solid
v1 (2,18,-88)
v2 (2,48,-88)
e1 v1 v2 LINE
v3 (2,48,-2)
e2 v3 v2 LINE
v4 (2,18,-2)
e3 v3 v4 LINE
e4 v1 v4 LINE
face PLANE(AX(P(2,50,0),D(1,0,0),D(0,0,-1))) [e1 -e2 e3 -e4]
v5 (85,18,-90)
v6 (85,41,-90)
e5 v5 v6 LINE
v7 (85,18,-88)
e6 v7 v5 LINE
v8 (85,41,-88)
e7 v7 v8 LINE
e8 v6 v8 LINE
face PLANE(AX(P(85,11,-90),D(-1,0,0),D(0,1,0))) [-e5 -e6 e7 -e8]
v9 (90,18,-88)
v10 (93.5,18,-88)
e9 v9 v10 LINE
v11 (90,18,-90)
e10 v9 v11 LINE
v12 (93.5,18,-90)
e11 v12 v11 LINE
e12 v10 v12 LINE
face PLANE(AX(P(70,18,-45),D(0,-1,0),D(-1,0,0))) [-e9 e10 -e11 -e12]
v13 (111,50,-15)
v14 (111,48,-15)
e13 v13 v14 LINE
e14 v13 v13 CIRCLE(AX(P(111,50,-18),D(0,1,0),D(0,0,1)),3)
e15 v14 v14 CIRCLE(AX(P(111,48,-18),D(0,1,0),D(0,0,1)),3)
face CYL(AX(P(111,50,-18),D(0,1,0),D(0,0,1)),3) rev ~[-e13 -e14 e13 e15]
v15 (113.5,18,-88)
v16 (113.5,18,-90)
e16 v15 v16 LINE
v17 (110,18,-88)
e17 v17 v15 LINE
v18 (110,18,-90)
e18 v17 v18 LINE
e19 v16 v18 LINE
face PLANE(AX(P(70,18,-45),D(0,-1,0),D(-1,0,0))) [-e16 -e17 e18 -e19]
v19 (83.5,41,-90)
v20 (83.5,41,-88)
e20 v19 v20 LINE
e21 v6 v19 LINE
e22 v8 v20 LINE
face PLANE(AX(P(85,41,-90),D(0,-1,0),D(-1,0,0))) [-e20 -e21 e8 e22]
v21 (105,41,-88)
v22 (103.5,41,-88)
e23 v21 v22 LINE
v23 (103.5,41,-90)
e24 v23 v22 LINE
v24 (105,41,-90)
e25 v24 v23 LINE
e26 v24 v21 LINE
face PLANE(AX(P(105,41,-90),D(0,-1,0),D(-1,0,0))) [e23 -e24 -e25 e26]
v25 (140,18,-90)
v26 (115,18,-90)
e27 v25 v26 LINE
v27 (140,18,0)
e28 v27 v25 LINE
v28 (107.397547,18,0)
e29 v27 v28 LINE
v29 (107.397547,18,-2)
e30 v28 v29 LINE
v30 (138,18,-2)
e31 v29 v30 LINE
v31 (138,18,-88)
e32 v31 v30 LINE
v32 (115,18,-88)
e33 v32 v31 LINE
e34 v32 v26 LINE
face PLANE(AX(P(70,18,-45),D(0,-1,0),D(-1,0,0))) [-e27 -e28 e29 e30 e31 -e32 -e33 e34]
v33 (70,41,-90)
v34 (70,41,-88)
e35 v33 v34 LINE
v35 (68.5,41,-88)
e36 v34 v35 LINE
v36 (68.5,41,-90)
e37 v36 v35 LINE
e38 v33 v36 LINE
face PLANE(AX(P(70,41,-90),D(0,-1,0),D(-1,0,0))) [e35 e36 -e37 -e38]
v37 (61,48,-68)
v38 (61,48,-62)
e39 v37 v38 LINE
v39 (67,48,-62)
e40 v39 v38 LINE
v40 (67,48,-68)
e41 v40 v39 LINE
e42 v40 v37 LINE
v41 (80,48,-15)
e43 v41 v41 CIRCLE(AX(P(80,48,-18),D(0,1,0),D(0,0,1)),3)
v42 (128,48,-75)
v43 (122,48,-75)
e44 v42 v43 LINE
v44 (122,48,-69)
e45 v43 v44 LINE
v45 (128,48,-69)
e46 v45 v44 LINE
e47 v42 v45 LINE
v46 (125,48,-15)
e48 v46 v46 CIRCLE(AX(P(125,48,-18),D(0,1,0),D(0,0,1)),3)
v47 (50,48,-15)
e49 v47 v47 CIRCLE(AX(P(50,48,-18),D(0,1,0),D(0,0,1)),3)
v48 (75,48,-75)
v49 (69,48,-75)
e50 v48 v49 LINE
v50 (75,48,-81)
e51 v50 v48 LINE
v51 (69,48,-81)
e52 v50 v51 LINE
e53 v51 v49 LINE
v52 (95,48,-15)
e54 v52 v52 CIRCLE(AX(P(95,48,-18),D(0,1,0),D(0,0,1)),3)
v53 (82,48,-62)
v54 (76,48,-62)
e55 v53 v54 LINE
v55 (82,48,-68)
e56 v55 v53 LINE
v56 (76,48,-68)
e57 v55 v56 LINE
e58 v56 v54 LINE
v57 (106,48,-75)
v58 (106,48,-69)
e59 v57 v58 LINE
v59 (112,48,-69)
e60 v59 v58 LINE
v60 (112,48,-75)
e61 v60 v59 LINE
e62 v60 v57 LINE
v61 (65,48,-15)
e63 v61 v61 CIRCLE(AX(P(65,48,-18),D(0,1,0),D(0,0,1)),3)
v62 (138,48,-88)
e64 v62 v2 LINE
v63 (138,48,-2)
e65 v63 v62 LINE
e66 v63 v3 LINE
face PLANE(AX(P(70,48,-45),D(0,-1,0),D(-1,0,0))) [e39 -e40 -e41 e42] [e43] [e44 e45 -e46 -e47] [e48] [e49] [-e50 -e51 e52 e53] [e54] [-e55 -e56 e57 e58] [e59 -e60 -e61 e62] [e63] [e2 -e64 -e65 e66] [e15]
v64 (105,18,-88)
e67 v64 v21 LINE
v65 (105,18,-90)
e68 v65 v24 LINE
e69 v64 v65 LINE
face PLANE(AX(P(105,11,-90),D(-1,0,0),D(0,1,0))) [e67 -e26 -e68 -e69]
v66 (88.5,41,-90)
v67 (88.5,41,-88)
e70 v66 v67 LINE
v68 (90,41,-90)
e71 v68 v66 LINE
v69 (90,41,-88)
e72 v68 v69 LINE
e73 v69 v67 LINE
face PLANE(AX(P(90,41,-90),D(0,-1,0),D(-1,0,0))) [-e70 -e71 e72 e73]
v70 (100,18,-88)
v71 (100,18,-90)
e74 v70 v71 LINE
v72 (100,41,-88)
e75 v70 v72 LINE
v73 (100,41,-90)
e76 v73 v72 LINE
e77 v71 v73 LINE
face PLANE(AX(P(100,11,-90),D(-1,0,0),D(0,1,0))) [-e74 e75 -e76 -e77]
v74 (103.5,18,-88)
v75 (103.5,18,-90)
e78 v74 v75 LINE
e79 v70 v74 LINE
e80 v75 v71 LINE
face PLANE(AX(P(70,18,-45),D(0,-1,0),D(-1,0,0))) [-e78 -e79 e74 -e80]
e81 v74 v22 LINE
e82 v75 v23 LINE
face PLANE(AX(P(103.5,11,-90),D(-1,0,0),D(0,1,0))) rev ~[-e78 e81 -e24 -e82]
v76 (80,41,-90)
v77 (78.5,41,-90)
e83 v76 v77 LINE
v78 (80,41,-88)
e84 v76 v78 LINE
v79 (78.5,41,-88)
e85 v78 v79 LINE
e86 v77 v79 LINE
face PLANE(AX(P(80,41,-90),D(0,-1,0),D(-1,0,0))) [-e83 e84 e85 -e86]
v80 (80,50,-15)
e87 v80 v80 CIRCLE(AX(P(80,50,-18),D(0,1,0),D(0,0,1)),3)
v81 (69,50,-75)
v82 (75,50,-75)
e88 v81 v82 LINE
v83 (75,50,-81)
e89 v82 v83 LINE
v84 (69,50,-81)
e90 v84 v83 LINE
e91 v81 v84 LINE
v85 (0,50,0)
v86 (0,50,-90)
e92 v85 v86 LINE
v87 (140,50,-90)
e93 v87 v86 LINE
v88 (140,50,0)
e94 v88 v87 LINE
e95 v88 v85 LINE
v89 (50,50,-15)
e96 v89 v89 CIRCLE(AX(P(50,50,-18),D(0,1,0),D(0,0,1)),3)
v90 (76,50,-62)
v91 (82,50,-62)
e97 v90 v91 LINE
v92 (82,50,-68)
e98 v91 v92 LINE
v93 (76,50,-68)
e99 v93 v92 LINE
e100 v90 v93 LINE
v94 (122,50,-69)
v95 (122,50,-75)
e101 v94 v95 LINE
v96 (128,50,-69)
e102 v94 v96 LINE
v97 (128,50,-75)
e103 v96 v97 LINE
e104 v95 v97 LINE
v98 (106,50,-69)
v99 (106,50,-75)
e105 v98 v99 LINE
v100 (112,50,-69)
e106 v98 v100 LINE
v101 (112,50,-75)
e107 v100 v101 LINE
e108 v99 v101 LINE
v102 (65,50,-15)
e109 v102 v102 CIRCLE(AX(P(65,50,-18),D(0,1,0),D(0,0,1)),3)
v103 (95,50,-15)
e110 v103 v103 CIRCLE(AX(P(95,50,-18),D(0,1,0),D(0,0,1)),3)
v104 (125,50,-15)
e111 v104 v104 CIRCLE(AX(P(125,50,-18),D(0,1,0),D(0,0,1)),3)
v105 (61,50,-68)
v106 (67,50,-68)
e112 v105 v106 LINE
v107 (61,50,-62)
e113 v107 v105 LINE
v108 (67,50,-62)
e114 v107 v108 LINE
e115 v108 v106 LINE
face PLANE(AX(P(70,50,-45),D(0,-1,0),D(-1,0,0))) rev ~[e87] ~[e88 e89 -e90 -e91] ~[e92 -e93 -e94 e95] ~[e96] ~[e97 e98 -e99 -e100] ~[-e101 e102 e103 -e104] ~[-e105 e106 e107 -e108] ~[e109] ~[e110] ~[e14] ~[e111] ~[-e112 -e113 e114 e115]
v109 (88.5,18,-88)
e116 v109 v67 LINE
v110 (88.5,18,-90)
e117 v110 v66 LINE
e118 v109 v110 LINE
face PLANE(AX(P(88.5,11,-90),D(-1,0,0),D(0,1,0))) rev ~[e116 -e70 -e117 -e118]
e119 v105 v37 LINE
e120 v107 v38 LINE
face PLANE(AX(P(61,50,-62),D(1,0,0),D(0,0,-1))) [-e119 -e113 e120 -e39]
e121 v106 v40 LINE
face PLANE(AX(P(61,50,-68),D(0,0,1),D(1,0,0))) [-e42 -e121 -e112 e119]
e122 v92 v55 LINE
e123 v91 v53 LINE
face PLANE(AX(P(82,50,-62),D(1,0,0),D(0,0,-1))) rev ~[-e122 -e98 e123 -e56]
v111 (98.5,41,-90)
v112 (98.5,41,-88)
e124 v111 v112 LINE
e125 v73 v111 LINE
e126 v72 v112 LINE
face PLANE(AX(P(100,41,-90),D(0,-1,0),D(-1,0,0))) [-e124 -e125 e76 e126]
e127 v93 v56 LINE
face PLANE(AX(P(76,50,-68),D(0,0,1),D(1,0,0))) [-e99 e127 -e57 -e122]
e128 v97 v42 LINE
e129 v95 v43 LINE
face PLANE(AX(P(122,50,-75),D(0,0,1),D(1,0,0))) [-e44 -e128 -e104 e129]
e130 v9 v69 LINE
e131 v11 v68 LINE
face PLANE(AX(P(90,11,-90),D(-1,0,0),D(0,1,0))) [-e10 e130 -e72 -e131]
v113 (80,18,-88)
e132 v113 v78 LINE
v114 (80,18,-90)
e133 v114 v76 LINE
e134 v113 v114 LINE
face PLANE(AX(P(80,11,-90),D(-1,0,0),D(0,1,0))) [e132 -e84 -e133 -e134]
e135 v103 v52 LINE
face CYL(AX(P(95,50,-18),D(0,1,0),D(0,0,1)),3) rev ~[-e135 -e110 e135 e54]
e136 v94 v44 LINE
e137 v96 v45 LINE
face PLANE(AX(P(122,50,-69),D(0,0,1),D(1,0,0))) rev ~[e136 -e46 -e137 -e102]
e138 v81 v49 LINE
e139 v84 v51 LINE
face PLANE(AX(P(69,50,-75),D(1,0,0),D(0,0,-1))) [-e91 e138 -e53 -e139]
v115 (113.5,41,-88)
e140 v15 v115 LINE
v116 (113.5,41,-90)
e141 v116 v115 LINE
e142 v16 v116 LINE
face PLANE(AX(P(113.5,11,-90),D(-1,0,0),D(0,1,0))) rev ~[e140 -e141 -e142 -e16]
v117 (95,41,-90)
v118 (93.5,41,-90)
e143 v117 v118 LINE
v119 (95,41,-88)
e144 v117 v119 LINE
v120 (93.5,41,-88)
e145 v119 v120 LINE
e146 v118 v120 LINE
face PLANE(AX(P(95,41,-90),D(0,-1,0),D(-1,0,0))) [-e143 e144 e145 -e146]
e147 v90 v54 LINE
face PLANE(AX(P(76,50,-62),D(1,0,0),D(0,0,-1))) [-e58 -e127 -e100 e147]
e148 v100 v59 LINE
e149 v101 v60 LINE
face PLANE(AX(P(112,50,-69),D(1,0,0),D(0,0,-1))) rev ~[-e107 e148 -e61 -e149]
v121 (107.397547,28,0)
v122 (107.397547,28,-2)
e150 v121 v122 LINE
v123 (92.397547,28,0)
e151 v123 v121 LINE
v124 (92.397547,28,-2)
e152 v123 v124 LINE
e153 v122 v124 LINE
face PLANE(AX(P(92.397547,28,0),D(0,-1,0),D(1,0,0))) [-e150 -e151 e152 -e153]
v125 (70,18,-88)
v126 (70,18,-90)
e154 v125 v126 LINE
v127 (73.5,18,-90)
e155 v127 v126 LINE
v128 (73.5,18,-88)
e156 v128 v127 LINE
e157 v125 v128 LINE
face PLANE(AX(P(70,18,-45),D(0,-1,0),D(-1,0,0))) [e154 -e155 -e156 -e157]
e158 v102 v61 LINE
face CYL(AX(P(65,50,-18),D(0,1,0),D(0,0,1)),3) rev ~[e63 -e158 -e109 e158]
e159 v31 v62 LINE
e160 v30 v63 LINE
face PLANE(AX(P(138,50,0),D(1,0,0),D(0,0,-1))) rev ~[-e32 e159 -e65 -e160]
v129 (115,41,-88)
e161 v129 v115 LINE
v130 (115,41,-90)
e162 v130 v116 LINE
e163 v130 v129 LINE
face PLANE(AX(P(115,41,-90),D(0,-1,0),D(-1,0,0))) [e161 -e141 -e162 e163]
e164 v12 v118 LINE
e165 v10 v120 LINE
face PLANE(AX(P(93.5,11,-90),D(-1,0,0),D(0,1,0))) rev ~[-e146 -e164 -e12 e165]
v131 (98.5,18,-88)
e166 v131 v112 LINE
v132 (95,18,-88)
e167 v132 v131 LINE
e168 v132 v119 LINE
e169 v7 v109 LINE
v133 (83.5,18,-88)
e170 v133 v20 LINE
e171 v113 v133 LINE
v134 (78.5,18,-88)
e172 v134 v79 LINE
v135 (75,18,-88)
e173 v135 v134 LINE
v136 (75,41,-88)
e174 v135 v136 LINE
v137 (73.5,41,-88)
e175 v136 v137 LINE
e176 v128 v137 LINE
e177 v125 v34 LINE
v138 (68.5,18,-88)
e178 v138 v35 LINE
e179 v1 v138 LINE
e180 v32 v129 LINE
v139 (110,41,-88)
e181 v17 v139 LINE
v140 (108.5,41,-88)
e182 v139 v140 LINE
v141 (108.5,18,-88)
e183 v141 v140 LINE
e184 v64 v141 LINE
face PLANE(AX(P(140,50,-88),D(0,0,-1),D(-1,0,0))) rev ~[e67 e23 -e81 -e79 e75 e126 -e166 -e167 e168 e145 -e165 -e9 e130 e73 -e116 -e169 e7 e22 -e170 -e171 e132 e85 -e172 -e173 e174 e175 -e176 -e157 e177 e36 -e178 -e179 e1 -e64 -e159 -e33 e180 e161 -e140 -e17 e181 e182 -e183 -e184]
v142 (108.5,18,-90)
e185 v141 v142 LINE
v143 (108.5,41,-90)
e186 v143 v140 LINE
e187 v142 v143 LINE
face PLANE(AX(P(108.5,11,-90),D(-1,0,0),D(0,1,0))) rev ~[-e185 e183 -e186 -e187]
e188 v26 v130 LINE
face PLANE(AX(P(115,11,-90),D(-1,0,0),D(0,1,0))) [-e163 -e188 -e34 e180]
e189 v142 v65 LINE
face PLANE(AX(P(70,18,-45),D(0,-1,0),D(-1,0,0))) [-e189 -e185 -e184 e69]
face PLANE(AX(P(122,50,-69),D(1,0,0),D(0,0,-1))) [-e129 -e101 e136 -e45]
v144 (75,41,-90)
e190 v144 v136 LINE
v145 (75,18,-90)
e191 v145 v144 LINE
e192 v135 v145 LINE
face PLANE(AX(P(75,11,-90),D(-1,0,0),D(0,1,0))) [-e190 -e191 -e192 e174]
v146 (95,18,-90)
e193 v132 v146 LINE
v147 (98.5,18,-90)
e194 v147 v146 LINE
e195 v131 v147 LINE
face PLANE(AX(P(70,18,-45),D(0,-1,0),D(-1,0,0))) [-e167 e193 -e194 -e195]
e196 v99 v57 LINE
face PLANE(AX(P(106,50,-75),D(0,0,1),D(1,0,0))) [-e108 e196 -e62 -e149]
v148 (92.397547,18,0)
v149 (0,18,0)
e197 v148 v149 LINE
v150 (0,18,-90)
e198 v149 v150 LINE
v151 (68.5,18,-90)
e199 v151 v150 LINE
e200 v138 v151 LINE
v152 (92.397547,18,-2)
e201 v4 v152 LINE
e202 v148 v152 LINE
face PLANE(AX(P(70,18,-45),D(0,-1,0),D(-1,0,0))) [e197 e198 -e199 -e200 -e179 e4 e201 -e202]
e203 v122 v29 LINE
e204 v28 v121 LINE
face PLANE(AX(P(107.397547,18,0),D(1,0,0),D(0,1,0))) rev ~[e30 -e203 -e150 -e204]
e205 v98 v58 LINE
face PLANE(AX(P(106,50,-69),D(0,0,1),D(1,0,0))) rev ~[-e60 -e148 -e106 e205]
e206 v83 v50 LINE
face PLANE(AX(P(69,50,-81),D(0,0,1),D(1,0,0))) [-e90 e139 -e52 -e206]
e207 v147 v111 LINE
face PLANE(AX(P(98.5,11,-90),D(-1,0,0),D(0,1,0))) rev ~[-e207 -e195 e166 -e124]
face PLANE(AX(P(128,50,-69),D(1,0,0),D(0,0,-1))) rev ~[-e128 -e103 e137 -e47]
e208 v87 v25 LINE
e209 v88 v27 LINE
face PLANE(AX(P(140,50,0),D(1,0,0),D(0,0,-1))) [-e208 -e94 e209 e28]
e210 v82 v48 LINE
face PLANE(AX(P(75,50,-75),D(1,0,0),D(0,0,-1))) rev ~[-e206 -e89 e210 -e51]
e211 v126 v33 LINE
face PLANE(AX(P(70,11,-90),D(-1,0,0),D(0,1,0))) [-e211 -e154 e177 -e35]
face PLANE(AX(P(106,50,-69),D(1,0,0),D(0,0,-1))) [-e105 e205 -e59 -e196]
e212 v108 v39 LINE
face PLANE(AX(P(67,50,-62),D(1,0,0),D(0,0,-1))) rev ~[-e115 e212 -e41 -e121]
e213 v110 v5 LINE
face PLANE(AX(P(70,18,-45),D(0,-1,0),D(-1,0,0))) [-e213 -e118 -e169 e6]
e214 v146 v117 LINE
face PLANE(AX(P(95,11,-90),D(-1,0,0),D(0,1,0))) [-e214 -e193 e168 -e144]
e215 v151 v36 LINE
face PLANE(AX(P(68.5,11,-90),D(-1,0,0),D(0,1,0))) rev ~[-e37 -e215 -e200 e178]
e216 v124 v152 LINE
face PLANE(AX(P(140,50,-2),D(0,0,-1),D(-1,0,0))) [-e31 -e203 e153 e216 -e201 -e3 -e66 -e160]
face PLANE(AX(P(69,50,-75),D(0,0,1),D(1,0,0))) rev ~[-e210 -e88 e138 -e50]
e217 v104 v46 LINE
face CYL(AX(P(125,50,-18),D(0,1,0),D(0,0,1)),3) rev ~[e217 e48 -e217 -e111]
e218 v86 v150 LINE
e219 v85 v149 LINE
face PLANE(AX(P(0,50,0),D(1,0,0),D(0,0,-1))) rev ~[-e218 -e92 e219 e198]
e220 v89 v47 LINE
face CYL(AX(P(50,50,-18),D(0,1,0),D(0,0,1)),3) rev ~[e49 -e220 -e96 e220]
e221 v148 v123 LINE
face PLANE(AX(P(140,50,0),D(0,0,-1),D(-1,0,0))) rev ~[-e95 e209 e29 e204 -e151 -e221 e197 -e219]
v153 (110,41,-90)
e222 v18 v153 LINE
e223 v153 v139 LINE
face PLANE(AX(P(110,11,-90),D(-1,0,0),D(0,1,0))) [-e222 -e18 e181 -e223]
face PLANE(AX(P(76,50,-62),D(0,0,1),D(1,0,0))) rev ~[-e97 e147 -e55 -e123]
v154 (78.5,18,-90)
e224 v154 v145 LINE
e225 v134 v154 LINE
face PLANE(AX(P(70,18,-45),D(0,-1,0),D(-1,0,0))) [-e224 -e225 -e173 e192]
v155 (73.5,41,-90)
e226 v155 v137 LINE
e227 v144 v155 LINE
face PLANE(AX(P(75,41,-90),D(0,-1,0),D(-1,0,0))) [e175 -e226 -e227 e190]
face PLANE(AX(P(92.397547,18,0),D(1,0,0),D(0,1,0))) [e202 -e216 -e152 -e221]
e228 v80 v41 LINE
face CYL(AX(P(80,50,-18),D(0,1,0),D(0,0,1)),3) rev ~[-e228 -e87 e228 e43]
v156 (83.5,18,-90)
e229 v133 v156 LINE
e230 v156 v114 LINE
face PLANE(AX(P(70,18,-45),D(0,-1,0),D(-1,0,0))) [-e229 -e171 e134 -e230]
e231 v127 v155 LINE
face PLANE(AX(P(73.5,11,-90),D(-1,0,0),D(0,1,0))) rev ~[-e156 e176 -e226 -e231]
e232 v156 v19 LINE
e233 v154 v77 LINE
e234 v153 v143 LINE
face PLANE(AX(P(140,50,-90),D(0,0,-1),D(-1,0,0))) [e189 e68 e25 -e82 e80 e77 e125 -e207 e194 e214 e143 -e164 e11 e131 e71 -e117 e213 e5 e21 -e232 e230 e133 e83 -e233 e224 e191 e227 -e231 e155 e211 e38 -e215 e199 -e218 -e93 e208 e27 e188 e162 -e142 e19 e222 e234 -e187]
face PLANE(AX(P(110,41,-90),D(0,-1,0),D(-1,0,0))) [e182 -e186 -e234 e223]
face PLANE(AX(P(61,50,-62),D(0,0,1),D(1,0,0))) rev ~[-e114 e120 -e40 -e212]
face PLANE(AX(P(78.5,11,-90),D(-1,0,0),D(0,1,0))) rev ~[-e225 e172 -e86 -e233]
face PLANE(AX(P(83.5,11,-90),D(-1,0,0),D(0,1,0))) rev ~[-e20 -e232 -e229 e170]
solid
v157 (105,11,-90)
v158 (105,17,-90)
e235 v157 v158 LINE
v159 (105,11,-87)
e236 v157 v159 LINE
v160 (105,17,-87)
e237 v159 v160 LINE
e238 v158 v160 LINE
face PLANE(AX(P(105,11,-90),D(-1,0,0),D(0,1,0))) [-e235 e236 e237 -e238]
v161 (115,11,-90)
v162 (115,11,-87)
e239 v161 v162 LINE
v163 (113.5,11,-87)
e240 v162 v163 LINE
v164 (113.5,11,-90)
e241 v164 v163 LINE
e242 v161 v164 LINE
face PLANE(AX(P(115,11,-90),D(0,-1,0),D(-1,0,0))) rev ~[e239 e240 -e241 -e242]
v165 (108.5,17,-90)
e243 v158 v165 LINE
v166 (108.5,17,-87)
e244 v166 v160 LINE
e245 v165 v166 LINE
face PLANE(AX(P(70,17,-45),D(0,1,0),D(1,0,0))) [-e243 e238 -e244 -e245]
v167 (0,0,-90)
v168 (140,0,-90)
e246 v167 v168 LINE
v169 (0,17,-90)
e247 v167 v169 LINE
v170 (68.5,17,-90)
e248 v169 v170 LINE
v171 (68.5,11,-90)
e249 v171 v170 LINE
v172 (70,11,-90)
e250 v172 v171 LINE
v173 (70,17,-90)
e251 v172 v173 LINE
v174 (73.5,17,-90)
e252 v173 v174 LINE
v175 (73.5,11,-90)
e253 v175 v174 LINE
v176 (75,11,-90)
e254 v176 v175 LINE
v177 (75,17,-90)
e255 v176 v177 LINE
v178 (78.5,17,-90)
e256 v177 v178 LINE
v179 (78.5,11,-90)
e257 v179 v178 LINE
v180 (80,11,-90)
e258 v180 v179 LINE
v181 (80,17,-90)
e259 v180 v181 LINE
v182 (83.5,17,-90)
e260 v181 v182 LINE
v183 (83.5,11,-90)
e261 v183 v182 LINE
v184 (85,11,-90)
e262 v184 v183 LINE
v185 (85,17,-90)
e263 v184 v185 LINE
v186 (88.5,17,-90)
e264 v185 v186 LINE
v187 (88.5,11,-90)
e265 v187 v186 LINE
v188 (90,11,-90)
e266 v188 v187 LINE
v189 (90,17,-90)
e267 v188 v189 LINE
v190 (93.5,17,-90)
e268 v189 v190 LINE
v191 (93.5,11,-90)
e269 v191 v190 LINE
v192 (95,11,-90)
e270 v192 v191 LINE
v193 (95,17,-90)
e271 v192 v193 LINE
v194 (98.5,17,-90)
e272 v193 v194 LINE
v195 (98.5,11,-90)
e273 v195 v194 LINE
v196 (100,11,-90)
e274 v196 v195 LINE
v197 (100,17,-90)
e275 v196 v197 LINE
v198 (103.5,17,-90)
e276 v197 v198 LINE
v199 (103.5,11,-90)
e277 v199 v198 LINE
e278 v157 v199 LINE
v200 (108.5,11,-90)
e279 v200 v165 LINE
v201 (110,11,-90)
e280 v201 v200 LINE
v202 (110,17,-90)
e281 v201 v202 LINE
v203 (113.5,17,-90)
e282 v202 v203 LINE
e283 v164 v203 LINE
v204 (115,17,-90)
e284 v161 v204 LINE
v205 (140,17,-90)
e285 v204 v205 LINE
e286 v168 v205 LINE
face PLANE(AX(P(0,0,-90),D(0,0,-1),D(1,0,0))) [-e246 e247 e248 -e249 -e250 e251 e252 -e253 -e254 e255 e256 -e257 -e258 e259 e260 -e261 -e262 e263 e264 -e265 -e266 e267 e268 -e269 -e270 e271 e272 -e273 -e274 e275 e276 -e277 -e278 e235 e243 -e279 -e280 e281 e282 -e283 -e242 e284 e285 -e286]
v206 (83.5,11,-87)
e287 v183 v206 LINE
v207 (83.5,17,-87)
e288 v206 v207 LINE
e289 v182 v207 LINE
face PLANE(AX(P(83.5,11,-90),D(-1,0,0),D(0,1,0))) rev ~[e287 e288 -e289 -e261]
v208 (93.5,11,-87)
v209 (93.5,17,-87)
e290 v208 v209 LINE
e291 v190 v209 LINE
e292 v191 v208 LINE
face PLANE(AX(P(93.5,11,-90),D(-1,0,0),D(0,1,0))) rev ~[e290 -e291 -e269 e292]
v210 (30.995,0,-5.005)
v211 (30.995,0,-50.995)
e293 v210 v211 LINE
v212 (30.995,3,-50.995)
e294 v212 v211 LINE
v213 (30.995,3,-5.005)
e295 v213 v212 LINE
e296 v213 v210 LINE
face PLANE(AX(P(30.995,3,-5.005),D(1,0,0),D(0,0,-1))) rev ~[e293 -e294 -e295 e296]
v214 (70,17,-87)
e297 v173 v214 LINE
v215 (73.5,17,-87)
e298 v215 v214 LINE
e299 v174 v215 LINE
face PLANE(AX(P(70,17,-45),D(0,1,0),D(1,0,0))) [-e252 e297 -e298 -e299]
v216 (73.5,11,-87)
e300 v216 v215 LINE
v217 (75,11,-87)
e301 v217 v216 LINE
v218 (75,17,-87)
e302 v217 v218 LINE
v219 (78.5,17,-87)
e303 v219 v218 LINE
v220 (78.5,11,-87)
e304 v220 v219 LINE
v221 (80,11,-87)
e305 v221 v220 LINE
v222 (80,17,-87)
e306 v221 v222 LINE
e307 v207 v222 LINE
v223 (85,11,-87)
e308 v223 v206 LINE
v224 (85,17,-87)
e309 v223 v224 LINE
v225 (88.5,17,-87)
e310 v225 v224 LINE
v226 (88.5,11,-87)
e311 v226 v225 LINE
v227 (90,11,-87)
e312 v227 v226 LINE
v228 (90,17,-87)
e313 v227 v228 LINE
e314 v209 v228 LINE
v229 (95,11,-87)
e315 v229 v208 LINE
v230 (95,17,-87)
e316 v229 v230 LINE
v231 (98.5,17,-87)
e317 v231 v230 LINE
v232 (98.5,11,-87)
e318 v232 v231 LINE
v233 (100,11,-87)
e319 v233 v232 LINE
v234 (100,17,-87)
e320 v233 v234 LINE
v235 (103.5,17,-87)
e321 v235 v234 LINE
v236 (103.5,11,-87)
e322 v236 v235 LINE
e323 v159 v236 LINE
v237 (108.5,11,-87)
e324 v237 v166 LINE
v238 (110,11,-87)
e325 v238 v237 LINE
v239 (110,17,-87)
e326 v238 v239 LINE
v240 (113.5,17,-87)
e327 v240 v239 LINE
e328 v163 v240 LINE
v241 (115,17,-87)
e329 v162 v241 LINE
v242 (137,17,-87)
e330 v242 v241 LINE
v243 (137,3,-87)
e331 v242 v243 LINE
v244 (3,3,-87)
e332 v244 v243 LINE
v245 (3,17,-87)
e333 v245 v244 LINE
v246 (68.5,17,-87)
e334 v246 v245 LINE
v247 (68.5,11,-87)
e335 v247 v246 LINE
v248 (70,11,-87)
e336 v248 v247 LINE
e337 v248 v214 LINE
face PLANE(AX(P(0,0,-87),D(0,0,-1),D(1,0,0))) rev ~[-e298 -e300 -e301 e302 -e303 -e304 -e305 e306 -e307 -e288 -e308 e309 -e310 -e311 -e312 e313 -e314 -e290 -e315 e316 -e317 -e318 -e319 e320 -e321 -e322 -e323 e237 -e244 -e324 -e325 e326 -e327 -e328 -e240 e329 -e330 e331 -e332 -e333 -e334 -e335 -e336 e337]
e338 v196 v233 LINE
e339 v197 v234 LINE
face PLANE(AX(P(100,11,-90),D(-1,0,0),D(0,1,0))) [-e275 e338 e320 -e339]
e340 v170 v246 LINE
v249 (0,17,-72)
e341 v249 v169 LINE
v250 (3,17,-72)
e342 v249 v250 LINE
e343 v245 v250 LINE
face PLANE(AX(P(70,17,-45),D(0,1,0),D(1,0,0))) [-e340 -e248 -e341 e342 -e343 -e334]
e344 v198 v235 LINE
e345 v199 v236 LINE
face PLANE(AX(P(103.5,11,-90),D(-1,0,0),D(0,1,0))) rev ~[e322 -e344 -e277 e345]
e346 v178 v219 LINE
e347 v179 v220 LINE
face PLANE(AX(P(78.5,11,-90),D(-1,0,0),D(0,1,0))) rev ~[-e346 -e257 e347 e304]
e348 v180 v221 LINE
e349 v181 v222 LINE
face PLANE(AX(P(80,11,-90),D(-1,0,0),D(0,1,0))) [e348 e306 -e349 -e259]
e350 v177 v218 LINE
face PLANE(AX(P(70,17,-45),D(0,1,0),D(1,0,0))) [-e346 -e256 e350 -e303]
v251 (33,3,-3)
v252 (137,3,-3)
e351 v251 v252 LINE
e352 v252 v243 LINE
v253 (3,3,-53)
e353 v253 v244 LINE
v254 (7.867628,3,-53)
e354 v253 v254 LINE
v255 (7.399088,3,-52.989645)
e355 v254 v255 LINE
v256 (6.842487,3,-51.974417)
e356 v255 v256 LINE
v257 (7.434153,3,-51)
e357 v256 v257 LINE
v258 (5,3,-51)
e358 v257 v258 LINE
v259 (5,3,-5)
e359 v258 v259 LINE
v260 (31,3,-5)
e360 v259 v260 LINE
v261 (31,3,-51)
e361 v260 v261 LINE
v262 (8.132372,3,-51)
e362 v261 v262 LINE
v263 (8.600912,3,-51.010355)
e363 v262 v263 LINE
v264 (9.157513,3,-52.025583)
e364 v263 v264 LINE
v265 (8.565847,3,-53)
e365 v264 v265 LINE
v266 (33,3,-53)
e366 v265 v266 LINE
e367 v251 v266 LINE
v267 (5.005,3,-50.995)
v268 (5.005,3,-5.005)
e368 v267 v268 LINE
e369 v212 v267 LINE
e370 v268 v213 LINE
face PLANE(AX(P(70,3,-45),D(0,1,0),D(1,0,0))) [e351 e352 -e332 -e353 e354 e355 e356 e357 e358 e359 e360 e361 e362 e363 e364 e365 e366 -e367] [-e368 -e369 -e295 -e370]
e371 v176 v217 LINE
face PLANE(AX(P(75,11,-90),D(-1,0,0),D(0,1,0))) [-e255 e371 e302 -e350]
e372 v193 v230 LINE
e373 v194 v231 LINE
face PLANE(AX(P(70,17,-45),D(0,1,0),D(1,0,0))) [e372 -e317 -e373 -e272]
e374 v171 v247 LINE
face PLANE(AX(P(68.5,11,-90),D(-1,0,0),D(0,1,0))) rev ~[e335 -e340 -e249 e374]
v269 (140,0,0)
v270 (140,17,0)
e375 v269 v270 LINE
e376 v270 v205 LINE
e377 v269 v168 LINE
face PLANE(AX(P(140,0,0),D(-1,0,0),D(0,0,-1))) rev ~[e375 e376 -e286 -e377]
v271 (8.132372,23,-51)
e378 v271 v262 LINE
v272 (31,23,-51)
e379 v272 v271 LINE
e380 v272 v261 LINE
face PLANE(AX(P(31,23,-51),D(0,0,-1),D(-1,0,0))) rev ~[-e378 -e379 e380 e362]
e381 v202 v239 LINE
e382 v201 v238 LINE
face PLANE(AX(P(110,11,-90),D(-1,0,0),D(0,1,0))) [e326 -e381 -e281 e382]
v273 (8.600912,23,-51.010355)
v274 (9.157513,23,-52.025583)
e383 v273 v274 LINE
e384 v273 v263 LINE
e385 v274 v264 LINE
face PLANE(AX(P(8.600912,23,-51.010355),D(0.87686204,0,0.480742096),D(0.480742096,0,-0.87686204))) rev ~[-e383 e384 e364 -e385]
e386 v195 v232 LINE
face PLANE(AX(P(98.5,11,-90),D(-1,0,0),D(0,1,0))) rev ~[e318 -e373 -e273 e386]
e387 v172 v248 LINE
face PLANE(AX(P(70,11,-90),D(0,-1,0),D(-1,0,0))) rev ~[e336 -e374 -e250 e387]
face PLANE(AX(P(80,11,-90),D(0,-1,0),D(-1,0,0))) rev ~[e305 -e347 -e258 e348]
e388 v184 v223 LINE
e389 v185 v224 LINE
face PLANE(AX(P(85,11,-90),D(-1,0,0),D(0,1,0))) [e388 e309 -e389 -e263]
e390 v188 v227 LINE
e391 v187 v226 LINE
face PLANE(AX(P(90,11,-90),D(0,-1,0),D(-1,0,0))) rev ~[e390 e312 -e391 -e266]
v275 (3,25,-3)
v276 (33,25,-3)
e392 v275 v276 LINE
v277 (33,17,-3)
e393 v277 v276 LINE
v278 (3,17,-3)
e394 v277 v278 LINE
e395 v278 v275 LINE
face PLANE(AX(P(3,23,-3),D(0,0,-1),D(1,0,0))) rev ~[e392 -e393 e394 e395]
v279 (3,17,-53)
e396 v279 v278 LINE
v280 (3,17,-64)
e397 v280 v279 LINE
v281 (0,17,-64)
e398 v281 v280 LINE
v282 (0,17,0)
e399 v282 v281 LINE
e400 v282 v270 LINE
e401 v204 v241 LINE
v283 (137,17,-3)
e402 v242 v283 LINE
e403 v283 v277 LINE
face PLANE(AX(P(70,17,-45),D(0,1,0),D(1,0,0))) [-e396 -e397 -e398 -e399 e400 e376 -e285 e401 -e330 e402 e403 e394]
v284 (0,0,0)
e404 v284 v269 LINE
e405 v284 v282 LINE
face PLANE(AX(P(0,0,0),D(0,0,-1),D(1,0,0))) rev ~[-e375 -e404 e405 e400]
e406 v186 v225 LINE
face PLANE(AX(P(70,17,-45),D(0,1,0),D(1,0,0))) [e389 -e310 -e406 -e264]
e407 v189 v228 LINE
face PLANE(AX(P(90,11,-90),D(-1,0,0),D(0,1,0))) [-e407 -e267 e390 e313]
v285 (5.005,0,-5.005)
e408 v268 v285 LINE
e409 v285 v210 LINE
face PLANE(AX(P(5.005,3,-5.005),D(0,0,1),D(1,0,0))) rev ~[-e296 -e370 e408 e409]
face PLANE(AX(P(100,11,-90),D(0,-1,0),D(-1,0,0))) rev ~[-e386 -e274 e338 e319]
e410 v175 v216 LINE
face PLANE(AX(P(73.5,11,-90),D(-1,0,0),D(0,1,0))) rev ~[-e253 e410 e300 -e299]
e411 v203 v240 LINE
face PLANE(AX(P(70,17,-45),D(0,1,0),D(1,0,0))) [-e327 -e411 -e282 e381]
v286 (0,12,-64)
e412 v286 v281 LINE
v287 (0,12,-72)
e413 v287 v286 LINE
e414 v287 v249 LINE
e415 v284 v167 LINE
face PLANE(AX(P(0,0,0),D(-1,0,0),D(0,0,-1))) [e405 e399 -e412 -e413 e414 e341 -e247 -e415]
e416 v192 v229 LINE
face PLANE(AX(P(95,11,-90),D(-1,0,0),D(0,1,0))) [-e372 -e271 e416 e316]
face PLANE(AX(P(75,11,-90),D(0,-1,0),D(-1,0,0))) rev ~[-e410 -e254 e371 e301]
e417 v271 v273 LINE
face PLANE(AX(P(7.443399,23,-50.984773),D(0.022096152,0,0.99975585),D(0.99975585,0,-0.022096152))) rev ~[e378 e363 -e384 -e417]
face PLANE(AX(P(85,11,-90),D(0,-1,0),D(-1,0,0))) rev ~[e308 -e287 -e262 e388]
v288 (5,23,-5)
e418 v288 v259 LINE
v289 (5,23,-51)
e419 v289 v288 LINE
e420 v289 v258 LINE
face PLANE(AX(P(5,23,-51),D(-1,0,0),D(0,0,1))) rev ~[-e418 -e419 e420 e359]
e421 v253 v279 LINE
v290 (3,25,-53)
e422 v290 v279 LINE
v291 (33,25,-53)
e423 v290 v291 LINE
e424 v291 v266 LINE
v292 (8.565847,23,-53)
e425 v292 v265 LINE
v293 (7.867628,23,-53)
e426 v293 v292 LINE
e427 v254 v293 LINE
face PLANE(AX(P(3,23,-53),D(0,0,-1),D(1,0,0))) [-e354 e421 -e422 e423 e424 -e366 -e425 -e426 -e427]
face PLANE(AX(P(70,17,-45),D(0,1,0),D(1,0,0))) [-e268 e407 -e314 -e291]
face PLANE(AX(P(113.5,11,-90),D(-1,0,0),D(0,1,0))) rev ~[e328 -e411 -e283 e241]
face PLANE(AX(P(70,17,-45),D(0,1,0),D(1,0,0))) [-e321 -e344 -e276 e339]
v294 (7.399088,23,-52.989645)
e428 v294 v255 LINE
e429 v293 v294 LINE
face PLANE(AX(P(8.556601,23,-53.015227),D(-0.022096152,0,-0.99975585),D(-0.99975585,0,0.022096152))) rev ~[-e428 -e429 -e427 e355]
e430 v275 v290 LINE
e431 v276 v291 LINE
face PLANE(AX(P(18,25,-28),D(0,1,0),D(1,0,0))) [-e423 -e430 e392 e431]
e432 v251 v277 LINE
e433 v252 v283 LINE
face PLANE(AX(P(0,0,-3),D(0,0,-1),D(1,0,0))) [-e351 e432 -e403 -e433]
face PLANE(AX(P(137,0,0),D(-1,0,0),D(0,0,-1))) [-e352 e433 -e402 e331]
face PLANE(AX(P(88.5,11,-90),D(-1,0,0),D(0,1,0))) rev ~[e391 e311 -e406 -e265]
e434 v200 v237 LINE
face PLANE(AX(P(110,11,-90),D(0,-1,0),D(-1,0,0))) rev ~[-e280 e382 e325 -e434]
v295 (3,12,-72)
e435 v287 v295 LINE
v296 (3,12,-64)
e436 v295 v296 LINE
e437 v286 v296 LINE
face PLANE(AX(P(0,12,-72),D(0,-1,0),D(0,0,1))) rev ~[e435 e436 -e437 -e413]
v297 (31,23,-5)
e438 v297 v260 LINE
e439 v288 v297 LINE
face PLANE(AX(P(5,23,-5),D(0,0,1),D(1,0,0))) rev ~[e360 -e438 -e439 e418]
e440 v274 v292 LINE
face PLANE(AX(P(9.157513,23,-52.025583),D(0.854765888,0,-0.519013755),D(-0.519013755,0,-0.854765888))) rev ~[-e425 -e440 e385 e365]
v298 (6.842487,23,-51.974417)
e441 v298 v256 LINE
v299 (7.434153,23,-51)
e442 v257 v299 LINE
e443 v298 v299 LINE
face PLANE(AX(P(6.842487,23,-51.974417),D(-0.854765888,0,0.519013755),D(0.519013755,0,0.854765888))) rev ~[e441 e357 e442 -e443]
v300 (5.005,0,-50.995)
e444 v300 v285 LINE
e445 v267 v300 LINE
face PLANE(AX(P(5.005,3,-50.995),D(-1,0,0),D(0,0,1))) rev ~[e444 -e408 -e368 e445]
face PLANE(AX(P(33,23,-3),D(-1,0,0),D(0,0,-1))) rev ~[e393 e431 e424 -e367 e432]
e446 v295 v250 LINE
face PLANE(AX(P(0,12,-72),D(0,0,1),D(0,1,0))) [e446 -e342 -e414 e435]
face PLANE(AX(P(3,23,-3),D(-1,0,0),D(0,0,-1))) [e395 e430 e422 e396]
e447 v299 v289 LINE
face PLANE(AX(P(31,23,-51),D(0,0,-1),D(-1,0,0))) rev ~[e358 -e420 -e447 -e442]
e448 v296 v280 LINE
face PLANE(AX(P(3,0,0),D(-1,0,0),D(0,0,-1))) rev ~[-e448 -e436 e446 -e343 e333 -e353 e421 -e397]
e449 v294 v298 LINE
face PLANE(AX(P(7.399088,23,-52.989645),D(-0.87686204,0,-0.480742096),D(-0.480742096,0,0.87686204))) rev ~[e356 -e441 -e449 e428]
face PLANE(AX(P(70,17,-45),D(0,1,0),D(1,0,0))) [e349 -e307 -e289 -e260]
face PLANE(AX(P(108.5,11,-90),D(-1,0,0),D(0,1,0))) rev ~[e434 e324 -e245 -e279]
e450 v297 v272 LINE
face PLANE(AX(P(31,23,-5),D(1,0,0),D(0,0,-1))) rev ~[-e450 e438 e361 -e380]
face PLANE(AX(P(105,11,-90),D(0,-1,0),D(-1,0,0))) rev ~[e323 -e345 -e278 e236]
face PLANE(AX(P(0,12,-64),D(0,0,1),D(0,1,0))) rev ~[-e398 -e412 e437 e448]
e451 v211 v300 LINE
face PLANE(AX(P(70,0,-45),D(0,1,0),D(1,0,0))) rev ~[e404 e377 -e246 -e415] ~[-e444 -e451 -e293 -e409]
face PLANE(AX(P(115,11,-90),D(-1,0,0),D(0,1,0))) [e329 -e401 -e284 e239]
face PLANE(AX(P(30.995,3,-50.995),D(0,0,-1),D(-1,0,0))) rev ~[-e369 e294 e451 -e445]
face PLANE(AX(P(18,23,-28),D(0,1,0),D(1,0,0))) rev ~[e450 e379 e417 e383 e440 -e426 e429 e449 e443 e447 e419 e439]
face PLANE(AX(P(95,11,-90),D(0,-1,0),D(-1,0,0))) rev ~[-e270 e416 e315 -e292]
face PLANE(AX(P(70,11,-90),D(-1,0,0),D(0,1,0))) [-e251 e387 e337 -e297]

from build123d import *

# Parameters (mm, degrees)
SKETCH1_W                  = 140
SKETCH1_H                  = 90
BASE_DEPTH                 = 17
EXTRUDING_BASE_T           = -3
SKETCH3_W                  = 8
SKETCH3_H                  = 5
EXTERNAL_POWER_SPACE_DEPTH = 10
SKETCH6_W                  = 140
SKETCH6_H                  = 90
UPPER_SURFACE_DEPTH        = 32
SHELL12_T                  = -2
SKETCH4_W                  = 30
SKETCH4_H                  = 50
BATTERY_SPACE_DEPTH        = 20
CUT_EXTRUDE3_DEPTH         = 20
CUT_EXTRUDE10_DEPTH        = 20
SKETCH8_R                  = 3
LED_DEPTH                  = 5
SKETCH9_W                  = 15
SKETCH9_H                  = 10
OUTPUT_WIRE_DEPTH          = 5
SKETCH10_W                 = 6
SKETCH10_H                 = 6
PUSHBUTTONS_DEPTH          = 5
SKETCH11_W                 = 1.5
SKETCH11_H                 = 30
AIRFLOW_HOLES_DEPTH        = 5
AIRSUPPORT_COUNT           = 10
AIRSUPPORT_PITCH           = 5
CUT_EXTRUDE9_DEPTH         = 5
SKETCH12_W                 = 30
SKETCH12_H                 = 50
BOSS_EXTRUDE4_DEPTH        = 2


with BuildPart() as part:
    # Sketch1 → Base (new body)
    with BuildSketch(Plane(origin=(0, 0, 0), x_dir=(1, 0, 0), z_dir=(0, 1, 0))):
        with Locations((70, 45)):
            Rectangle(SKETCH1_W, SKETCH1_H)
    extrude(amount=BASE_DEPTH)

    # Extruding Base
    extruding_base_openings = [part.faces().sort_by_distance(p)[0] for p in [
        (70, 17, -45),
    ]]
    offset(amount=EXTRUDING_BASE_T, openings=extruding_base_openings, kind=Kind.INTERSECTION)

    # Sketch3 → External Power Space (cut)
    with BuildSketch(Plane.ZY):
        with Locations((-68, 14.5)):
            Rectangle(SKETCH3_W, SKETCH3_H)
    extrude(amount=-EXTERNAL_POWER_SPACE_DEPTH, mode=Mode.SUBTRACT)

    # Sketch4 → Battery Space (add)
    with BuildSketch(Plane(origin=(0, 3, 0), x_dir=(1, 0, 0), z_dir=(0, 1, 0))):
        with Locations((18, 28)):
            Rectangle(SKETCH4_W, SKETCH4_H)
    extrude(amount=BATTERY_SPACE_DEPTH)

    # 3DSketch1 → Cut-Extrude3 (cut)
    with BuildSketch(Plane(origin=(5, 23, -5), x_dir=(0.49205725666790157, 0, -0.8705628387201345), z_dir=(0, -1, 0))):
        Polygon((0, 0), (12.793488673, 22.634633807), (52.839379254, 0), (40.045890581, -22.634633807), align=None)
    extrude(amount=CUT_EXTRUDE3_DEPTH, mode=Mode.SUBTRACT)

    # Sketch13 → Cut-Extrude10 (cut)
    with BuildSketch(Plane(origin=(0, 23, 0), x_dir=(1, 0, 0), z_dir=(0, 1, 0))):
        Polygon((7.443398723, 50.984772634), (8.600912051, 51.010355471), (9.157513328, 52.025582837), (8.556601277, 53.015227366), (7.399087949, 52.989644529), (6.842486672, 51.974417163), align=None)
    extrude(amount=-CUT_EXTRUDE10_DEPTH, mode=Mode.SUBTRACT)


with BuildPart() as body_2:
    # Sketch6 → Upper Surface (new body)
    with BuildSketch(Plane(origin=(0, 50, 0), x_dir=(-1, 0, 0), z_dir=(0, -1, 0))):
        with Locations((-70, 45)):
            Rectangle(SKETCH6_W, SKETCH6_H)
    extrude(amount=UPPER_SURFACE_DEPTH)

    # Shell12
    shell12_openings = [body_2.faces().sort_by_distance(p)[0] for p in [
        (70, 18, -45),
    ]]
    offset(amount=SHELL12_T, openings=shell12_openings, kind=Kind.INTERSECTION)

    # Sketch8 → LED (cut)
    with BuildSketch(Plane(origin=(0, 50, 0), x_dir=(1, 0, 0), z_dir=(0, 1, 0))):
        with Locations(Location((125, 18, 0), (0, 0, 270))):
            Circle(SKETCH8_R)
        with Locations(Location((111, 18, 0), (0, 0, 270))):
            Circle(SKETCH8_R)
        with Locations(Location((95, 18, 0), (0, 0, 270))):
            Circle(SKETCH8_R)
        with Locations(Location((80, 18, 0), (0, 0, 270))):
            Circle(SKETCH8_R)
        with Locations(Location((65, 18, 0), (0, 0, 270))):
            Circle(SKETCH8_R)
        with Locations(Location((50, 18, 0), (0, 0, 270))):
            Circle(SKETCH8_R)
    extrude(amount=-LED_DEPTH, mode=Mode.SUBTRACT)

    # Sketch9 → OUTPUT Wire (cut)
    with BuildSketch(Plane.XY):
        with Locations((99.897547045, 23)):
            Rectangle(SKETCH9_W, SKETCH9_H)
    extrude(amount=-OUTPUT_WIRE_DEPTH, mode=Mode.SUBTRACT)

    # Sketch10 → PushButtons (cut)
    with BuildSketch(Plane(origin=(0, 50, 0), x_dir=(1, 0, 0), z_dir=(0, 1, 0))):
        with Locations((125, 72)):
            Rectangle(SKETCH10_W, SKETCH10_H)
        with Locations((109, 72)):
            Rectangle(SKETCH10_W, SKETCH10_H)
        with Locations((72, 78)):
            Rectangle(SKETCH10_W, SKETCH10_H)
        with Locations((79, 65)):
            Rectangle(SKETCH10_W, SKETCH10_H)
        with Locations((64, 65)):
            Rectangle(SKETCH10_W, SKETCH10_H)
    extrude(amount=-PUSHBUTTONS_DEPTH, mode=Mode.SUBTRACT)


with BuildPart() as airflow_holes_tool:
    # Sketch11 → AirFlow Holes (new body)
    with BuildSketch(Plane(origin=(0, 0, -90), x_dir=(-1, 0, 0), z_dir=(0, 0, -1))):
        with Locations((-114.25, 26)):
            Rectangle(SKETCH11_W, SKETCH11_H)
    airflow_holes = extrude(amount=-AIRFLOW_HOLES_DEPTH)


with BuildPart() as part_1:
    add(part.part)

    # AirFlow Holes: cut by airflow_holes_tool
    add(airflow_holes_tool.part, mode=Mode.SUBTRACT)


with BuildPart() as body_2_1:
    add(body_2.part)

    # AirFlow Holes: cut by airflow_holes_tool
    add(airflow_holes_tool.part, mode=Mode.SUBTRACT)


with BuildPart() as airsupport_tool:
    # AirSupport: AirFlow Holes ×10
    with Locations(*[(-i * AIRSUPPORT_PITCH, 0, 0) for i in range(1, AIRSUPPORT_COUNT)]):
        add(airflow_holes)


with BuildPart() as part_2:
    add(part_1.part)

    # AirSupport: cut by airsupport_tool
    add(airsupport_tool.part, mode=Mode.SUBTRACT)

    # 3DSketch2 → Cut-Extrude9 (cut)
    with BuildSketch(Plane(origin=(30.995, 3, -5.005), x_dir=(-0.49199487808425185, 0, -0.8705980932318094), z_dir=(0, 1, 0))):
        Polygon((0, 0), (40.038806308, -22.626844443), (52.825753189, 0), (12.786946881, 22.626844443), align=None)
    extrude(amount=-CUT_EXTRUDE9_DEPTH, mode=Mode.SUBTRACT)

    # Sketch12 → Boss-Extrude4 (add)
    with BuildSketch(Plane(origin=(0, 23, 0), x_dir=(1, 0, 0), z_dir=(0, 1, 0))):
        with Locations((18, 28)):
            Rectangle(SKETCH12_W, SKETCH12_H)
    extrude(amount=BOSS_EXTRUDE4_DEPTH)


with BuildPart() as body_2_2:
    add(body_2_1.part)

    # AirSupport: cut by airsupport_tool
    add(airsupport_tool.part, mode=Mode.SUBTRACT)


solid = Compound([part_2.part, body_2_2.part])
